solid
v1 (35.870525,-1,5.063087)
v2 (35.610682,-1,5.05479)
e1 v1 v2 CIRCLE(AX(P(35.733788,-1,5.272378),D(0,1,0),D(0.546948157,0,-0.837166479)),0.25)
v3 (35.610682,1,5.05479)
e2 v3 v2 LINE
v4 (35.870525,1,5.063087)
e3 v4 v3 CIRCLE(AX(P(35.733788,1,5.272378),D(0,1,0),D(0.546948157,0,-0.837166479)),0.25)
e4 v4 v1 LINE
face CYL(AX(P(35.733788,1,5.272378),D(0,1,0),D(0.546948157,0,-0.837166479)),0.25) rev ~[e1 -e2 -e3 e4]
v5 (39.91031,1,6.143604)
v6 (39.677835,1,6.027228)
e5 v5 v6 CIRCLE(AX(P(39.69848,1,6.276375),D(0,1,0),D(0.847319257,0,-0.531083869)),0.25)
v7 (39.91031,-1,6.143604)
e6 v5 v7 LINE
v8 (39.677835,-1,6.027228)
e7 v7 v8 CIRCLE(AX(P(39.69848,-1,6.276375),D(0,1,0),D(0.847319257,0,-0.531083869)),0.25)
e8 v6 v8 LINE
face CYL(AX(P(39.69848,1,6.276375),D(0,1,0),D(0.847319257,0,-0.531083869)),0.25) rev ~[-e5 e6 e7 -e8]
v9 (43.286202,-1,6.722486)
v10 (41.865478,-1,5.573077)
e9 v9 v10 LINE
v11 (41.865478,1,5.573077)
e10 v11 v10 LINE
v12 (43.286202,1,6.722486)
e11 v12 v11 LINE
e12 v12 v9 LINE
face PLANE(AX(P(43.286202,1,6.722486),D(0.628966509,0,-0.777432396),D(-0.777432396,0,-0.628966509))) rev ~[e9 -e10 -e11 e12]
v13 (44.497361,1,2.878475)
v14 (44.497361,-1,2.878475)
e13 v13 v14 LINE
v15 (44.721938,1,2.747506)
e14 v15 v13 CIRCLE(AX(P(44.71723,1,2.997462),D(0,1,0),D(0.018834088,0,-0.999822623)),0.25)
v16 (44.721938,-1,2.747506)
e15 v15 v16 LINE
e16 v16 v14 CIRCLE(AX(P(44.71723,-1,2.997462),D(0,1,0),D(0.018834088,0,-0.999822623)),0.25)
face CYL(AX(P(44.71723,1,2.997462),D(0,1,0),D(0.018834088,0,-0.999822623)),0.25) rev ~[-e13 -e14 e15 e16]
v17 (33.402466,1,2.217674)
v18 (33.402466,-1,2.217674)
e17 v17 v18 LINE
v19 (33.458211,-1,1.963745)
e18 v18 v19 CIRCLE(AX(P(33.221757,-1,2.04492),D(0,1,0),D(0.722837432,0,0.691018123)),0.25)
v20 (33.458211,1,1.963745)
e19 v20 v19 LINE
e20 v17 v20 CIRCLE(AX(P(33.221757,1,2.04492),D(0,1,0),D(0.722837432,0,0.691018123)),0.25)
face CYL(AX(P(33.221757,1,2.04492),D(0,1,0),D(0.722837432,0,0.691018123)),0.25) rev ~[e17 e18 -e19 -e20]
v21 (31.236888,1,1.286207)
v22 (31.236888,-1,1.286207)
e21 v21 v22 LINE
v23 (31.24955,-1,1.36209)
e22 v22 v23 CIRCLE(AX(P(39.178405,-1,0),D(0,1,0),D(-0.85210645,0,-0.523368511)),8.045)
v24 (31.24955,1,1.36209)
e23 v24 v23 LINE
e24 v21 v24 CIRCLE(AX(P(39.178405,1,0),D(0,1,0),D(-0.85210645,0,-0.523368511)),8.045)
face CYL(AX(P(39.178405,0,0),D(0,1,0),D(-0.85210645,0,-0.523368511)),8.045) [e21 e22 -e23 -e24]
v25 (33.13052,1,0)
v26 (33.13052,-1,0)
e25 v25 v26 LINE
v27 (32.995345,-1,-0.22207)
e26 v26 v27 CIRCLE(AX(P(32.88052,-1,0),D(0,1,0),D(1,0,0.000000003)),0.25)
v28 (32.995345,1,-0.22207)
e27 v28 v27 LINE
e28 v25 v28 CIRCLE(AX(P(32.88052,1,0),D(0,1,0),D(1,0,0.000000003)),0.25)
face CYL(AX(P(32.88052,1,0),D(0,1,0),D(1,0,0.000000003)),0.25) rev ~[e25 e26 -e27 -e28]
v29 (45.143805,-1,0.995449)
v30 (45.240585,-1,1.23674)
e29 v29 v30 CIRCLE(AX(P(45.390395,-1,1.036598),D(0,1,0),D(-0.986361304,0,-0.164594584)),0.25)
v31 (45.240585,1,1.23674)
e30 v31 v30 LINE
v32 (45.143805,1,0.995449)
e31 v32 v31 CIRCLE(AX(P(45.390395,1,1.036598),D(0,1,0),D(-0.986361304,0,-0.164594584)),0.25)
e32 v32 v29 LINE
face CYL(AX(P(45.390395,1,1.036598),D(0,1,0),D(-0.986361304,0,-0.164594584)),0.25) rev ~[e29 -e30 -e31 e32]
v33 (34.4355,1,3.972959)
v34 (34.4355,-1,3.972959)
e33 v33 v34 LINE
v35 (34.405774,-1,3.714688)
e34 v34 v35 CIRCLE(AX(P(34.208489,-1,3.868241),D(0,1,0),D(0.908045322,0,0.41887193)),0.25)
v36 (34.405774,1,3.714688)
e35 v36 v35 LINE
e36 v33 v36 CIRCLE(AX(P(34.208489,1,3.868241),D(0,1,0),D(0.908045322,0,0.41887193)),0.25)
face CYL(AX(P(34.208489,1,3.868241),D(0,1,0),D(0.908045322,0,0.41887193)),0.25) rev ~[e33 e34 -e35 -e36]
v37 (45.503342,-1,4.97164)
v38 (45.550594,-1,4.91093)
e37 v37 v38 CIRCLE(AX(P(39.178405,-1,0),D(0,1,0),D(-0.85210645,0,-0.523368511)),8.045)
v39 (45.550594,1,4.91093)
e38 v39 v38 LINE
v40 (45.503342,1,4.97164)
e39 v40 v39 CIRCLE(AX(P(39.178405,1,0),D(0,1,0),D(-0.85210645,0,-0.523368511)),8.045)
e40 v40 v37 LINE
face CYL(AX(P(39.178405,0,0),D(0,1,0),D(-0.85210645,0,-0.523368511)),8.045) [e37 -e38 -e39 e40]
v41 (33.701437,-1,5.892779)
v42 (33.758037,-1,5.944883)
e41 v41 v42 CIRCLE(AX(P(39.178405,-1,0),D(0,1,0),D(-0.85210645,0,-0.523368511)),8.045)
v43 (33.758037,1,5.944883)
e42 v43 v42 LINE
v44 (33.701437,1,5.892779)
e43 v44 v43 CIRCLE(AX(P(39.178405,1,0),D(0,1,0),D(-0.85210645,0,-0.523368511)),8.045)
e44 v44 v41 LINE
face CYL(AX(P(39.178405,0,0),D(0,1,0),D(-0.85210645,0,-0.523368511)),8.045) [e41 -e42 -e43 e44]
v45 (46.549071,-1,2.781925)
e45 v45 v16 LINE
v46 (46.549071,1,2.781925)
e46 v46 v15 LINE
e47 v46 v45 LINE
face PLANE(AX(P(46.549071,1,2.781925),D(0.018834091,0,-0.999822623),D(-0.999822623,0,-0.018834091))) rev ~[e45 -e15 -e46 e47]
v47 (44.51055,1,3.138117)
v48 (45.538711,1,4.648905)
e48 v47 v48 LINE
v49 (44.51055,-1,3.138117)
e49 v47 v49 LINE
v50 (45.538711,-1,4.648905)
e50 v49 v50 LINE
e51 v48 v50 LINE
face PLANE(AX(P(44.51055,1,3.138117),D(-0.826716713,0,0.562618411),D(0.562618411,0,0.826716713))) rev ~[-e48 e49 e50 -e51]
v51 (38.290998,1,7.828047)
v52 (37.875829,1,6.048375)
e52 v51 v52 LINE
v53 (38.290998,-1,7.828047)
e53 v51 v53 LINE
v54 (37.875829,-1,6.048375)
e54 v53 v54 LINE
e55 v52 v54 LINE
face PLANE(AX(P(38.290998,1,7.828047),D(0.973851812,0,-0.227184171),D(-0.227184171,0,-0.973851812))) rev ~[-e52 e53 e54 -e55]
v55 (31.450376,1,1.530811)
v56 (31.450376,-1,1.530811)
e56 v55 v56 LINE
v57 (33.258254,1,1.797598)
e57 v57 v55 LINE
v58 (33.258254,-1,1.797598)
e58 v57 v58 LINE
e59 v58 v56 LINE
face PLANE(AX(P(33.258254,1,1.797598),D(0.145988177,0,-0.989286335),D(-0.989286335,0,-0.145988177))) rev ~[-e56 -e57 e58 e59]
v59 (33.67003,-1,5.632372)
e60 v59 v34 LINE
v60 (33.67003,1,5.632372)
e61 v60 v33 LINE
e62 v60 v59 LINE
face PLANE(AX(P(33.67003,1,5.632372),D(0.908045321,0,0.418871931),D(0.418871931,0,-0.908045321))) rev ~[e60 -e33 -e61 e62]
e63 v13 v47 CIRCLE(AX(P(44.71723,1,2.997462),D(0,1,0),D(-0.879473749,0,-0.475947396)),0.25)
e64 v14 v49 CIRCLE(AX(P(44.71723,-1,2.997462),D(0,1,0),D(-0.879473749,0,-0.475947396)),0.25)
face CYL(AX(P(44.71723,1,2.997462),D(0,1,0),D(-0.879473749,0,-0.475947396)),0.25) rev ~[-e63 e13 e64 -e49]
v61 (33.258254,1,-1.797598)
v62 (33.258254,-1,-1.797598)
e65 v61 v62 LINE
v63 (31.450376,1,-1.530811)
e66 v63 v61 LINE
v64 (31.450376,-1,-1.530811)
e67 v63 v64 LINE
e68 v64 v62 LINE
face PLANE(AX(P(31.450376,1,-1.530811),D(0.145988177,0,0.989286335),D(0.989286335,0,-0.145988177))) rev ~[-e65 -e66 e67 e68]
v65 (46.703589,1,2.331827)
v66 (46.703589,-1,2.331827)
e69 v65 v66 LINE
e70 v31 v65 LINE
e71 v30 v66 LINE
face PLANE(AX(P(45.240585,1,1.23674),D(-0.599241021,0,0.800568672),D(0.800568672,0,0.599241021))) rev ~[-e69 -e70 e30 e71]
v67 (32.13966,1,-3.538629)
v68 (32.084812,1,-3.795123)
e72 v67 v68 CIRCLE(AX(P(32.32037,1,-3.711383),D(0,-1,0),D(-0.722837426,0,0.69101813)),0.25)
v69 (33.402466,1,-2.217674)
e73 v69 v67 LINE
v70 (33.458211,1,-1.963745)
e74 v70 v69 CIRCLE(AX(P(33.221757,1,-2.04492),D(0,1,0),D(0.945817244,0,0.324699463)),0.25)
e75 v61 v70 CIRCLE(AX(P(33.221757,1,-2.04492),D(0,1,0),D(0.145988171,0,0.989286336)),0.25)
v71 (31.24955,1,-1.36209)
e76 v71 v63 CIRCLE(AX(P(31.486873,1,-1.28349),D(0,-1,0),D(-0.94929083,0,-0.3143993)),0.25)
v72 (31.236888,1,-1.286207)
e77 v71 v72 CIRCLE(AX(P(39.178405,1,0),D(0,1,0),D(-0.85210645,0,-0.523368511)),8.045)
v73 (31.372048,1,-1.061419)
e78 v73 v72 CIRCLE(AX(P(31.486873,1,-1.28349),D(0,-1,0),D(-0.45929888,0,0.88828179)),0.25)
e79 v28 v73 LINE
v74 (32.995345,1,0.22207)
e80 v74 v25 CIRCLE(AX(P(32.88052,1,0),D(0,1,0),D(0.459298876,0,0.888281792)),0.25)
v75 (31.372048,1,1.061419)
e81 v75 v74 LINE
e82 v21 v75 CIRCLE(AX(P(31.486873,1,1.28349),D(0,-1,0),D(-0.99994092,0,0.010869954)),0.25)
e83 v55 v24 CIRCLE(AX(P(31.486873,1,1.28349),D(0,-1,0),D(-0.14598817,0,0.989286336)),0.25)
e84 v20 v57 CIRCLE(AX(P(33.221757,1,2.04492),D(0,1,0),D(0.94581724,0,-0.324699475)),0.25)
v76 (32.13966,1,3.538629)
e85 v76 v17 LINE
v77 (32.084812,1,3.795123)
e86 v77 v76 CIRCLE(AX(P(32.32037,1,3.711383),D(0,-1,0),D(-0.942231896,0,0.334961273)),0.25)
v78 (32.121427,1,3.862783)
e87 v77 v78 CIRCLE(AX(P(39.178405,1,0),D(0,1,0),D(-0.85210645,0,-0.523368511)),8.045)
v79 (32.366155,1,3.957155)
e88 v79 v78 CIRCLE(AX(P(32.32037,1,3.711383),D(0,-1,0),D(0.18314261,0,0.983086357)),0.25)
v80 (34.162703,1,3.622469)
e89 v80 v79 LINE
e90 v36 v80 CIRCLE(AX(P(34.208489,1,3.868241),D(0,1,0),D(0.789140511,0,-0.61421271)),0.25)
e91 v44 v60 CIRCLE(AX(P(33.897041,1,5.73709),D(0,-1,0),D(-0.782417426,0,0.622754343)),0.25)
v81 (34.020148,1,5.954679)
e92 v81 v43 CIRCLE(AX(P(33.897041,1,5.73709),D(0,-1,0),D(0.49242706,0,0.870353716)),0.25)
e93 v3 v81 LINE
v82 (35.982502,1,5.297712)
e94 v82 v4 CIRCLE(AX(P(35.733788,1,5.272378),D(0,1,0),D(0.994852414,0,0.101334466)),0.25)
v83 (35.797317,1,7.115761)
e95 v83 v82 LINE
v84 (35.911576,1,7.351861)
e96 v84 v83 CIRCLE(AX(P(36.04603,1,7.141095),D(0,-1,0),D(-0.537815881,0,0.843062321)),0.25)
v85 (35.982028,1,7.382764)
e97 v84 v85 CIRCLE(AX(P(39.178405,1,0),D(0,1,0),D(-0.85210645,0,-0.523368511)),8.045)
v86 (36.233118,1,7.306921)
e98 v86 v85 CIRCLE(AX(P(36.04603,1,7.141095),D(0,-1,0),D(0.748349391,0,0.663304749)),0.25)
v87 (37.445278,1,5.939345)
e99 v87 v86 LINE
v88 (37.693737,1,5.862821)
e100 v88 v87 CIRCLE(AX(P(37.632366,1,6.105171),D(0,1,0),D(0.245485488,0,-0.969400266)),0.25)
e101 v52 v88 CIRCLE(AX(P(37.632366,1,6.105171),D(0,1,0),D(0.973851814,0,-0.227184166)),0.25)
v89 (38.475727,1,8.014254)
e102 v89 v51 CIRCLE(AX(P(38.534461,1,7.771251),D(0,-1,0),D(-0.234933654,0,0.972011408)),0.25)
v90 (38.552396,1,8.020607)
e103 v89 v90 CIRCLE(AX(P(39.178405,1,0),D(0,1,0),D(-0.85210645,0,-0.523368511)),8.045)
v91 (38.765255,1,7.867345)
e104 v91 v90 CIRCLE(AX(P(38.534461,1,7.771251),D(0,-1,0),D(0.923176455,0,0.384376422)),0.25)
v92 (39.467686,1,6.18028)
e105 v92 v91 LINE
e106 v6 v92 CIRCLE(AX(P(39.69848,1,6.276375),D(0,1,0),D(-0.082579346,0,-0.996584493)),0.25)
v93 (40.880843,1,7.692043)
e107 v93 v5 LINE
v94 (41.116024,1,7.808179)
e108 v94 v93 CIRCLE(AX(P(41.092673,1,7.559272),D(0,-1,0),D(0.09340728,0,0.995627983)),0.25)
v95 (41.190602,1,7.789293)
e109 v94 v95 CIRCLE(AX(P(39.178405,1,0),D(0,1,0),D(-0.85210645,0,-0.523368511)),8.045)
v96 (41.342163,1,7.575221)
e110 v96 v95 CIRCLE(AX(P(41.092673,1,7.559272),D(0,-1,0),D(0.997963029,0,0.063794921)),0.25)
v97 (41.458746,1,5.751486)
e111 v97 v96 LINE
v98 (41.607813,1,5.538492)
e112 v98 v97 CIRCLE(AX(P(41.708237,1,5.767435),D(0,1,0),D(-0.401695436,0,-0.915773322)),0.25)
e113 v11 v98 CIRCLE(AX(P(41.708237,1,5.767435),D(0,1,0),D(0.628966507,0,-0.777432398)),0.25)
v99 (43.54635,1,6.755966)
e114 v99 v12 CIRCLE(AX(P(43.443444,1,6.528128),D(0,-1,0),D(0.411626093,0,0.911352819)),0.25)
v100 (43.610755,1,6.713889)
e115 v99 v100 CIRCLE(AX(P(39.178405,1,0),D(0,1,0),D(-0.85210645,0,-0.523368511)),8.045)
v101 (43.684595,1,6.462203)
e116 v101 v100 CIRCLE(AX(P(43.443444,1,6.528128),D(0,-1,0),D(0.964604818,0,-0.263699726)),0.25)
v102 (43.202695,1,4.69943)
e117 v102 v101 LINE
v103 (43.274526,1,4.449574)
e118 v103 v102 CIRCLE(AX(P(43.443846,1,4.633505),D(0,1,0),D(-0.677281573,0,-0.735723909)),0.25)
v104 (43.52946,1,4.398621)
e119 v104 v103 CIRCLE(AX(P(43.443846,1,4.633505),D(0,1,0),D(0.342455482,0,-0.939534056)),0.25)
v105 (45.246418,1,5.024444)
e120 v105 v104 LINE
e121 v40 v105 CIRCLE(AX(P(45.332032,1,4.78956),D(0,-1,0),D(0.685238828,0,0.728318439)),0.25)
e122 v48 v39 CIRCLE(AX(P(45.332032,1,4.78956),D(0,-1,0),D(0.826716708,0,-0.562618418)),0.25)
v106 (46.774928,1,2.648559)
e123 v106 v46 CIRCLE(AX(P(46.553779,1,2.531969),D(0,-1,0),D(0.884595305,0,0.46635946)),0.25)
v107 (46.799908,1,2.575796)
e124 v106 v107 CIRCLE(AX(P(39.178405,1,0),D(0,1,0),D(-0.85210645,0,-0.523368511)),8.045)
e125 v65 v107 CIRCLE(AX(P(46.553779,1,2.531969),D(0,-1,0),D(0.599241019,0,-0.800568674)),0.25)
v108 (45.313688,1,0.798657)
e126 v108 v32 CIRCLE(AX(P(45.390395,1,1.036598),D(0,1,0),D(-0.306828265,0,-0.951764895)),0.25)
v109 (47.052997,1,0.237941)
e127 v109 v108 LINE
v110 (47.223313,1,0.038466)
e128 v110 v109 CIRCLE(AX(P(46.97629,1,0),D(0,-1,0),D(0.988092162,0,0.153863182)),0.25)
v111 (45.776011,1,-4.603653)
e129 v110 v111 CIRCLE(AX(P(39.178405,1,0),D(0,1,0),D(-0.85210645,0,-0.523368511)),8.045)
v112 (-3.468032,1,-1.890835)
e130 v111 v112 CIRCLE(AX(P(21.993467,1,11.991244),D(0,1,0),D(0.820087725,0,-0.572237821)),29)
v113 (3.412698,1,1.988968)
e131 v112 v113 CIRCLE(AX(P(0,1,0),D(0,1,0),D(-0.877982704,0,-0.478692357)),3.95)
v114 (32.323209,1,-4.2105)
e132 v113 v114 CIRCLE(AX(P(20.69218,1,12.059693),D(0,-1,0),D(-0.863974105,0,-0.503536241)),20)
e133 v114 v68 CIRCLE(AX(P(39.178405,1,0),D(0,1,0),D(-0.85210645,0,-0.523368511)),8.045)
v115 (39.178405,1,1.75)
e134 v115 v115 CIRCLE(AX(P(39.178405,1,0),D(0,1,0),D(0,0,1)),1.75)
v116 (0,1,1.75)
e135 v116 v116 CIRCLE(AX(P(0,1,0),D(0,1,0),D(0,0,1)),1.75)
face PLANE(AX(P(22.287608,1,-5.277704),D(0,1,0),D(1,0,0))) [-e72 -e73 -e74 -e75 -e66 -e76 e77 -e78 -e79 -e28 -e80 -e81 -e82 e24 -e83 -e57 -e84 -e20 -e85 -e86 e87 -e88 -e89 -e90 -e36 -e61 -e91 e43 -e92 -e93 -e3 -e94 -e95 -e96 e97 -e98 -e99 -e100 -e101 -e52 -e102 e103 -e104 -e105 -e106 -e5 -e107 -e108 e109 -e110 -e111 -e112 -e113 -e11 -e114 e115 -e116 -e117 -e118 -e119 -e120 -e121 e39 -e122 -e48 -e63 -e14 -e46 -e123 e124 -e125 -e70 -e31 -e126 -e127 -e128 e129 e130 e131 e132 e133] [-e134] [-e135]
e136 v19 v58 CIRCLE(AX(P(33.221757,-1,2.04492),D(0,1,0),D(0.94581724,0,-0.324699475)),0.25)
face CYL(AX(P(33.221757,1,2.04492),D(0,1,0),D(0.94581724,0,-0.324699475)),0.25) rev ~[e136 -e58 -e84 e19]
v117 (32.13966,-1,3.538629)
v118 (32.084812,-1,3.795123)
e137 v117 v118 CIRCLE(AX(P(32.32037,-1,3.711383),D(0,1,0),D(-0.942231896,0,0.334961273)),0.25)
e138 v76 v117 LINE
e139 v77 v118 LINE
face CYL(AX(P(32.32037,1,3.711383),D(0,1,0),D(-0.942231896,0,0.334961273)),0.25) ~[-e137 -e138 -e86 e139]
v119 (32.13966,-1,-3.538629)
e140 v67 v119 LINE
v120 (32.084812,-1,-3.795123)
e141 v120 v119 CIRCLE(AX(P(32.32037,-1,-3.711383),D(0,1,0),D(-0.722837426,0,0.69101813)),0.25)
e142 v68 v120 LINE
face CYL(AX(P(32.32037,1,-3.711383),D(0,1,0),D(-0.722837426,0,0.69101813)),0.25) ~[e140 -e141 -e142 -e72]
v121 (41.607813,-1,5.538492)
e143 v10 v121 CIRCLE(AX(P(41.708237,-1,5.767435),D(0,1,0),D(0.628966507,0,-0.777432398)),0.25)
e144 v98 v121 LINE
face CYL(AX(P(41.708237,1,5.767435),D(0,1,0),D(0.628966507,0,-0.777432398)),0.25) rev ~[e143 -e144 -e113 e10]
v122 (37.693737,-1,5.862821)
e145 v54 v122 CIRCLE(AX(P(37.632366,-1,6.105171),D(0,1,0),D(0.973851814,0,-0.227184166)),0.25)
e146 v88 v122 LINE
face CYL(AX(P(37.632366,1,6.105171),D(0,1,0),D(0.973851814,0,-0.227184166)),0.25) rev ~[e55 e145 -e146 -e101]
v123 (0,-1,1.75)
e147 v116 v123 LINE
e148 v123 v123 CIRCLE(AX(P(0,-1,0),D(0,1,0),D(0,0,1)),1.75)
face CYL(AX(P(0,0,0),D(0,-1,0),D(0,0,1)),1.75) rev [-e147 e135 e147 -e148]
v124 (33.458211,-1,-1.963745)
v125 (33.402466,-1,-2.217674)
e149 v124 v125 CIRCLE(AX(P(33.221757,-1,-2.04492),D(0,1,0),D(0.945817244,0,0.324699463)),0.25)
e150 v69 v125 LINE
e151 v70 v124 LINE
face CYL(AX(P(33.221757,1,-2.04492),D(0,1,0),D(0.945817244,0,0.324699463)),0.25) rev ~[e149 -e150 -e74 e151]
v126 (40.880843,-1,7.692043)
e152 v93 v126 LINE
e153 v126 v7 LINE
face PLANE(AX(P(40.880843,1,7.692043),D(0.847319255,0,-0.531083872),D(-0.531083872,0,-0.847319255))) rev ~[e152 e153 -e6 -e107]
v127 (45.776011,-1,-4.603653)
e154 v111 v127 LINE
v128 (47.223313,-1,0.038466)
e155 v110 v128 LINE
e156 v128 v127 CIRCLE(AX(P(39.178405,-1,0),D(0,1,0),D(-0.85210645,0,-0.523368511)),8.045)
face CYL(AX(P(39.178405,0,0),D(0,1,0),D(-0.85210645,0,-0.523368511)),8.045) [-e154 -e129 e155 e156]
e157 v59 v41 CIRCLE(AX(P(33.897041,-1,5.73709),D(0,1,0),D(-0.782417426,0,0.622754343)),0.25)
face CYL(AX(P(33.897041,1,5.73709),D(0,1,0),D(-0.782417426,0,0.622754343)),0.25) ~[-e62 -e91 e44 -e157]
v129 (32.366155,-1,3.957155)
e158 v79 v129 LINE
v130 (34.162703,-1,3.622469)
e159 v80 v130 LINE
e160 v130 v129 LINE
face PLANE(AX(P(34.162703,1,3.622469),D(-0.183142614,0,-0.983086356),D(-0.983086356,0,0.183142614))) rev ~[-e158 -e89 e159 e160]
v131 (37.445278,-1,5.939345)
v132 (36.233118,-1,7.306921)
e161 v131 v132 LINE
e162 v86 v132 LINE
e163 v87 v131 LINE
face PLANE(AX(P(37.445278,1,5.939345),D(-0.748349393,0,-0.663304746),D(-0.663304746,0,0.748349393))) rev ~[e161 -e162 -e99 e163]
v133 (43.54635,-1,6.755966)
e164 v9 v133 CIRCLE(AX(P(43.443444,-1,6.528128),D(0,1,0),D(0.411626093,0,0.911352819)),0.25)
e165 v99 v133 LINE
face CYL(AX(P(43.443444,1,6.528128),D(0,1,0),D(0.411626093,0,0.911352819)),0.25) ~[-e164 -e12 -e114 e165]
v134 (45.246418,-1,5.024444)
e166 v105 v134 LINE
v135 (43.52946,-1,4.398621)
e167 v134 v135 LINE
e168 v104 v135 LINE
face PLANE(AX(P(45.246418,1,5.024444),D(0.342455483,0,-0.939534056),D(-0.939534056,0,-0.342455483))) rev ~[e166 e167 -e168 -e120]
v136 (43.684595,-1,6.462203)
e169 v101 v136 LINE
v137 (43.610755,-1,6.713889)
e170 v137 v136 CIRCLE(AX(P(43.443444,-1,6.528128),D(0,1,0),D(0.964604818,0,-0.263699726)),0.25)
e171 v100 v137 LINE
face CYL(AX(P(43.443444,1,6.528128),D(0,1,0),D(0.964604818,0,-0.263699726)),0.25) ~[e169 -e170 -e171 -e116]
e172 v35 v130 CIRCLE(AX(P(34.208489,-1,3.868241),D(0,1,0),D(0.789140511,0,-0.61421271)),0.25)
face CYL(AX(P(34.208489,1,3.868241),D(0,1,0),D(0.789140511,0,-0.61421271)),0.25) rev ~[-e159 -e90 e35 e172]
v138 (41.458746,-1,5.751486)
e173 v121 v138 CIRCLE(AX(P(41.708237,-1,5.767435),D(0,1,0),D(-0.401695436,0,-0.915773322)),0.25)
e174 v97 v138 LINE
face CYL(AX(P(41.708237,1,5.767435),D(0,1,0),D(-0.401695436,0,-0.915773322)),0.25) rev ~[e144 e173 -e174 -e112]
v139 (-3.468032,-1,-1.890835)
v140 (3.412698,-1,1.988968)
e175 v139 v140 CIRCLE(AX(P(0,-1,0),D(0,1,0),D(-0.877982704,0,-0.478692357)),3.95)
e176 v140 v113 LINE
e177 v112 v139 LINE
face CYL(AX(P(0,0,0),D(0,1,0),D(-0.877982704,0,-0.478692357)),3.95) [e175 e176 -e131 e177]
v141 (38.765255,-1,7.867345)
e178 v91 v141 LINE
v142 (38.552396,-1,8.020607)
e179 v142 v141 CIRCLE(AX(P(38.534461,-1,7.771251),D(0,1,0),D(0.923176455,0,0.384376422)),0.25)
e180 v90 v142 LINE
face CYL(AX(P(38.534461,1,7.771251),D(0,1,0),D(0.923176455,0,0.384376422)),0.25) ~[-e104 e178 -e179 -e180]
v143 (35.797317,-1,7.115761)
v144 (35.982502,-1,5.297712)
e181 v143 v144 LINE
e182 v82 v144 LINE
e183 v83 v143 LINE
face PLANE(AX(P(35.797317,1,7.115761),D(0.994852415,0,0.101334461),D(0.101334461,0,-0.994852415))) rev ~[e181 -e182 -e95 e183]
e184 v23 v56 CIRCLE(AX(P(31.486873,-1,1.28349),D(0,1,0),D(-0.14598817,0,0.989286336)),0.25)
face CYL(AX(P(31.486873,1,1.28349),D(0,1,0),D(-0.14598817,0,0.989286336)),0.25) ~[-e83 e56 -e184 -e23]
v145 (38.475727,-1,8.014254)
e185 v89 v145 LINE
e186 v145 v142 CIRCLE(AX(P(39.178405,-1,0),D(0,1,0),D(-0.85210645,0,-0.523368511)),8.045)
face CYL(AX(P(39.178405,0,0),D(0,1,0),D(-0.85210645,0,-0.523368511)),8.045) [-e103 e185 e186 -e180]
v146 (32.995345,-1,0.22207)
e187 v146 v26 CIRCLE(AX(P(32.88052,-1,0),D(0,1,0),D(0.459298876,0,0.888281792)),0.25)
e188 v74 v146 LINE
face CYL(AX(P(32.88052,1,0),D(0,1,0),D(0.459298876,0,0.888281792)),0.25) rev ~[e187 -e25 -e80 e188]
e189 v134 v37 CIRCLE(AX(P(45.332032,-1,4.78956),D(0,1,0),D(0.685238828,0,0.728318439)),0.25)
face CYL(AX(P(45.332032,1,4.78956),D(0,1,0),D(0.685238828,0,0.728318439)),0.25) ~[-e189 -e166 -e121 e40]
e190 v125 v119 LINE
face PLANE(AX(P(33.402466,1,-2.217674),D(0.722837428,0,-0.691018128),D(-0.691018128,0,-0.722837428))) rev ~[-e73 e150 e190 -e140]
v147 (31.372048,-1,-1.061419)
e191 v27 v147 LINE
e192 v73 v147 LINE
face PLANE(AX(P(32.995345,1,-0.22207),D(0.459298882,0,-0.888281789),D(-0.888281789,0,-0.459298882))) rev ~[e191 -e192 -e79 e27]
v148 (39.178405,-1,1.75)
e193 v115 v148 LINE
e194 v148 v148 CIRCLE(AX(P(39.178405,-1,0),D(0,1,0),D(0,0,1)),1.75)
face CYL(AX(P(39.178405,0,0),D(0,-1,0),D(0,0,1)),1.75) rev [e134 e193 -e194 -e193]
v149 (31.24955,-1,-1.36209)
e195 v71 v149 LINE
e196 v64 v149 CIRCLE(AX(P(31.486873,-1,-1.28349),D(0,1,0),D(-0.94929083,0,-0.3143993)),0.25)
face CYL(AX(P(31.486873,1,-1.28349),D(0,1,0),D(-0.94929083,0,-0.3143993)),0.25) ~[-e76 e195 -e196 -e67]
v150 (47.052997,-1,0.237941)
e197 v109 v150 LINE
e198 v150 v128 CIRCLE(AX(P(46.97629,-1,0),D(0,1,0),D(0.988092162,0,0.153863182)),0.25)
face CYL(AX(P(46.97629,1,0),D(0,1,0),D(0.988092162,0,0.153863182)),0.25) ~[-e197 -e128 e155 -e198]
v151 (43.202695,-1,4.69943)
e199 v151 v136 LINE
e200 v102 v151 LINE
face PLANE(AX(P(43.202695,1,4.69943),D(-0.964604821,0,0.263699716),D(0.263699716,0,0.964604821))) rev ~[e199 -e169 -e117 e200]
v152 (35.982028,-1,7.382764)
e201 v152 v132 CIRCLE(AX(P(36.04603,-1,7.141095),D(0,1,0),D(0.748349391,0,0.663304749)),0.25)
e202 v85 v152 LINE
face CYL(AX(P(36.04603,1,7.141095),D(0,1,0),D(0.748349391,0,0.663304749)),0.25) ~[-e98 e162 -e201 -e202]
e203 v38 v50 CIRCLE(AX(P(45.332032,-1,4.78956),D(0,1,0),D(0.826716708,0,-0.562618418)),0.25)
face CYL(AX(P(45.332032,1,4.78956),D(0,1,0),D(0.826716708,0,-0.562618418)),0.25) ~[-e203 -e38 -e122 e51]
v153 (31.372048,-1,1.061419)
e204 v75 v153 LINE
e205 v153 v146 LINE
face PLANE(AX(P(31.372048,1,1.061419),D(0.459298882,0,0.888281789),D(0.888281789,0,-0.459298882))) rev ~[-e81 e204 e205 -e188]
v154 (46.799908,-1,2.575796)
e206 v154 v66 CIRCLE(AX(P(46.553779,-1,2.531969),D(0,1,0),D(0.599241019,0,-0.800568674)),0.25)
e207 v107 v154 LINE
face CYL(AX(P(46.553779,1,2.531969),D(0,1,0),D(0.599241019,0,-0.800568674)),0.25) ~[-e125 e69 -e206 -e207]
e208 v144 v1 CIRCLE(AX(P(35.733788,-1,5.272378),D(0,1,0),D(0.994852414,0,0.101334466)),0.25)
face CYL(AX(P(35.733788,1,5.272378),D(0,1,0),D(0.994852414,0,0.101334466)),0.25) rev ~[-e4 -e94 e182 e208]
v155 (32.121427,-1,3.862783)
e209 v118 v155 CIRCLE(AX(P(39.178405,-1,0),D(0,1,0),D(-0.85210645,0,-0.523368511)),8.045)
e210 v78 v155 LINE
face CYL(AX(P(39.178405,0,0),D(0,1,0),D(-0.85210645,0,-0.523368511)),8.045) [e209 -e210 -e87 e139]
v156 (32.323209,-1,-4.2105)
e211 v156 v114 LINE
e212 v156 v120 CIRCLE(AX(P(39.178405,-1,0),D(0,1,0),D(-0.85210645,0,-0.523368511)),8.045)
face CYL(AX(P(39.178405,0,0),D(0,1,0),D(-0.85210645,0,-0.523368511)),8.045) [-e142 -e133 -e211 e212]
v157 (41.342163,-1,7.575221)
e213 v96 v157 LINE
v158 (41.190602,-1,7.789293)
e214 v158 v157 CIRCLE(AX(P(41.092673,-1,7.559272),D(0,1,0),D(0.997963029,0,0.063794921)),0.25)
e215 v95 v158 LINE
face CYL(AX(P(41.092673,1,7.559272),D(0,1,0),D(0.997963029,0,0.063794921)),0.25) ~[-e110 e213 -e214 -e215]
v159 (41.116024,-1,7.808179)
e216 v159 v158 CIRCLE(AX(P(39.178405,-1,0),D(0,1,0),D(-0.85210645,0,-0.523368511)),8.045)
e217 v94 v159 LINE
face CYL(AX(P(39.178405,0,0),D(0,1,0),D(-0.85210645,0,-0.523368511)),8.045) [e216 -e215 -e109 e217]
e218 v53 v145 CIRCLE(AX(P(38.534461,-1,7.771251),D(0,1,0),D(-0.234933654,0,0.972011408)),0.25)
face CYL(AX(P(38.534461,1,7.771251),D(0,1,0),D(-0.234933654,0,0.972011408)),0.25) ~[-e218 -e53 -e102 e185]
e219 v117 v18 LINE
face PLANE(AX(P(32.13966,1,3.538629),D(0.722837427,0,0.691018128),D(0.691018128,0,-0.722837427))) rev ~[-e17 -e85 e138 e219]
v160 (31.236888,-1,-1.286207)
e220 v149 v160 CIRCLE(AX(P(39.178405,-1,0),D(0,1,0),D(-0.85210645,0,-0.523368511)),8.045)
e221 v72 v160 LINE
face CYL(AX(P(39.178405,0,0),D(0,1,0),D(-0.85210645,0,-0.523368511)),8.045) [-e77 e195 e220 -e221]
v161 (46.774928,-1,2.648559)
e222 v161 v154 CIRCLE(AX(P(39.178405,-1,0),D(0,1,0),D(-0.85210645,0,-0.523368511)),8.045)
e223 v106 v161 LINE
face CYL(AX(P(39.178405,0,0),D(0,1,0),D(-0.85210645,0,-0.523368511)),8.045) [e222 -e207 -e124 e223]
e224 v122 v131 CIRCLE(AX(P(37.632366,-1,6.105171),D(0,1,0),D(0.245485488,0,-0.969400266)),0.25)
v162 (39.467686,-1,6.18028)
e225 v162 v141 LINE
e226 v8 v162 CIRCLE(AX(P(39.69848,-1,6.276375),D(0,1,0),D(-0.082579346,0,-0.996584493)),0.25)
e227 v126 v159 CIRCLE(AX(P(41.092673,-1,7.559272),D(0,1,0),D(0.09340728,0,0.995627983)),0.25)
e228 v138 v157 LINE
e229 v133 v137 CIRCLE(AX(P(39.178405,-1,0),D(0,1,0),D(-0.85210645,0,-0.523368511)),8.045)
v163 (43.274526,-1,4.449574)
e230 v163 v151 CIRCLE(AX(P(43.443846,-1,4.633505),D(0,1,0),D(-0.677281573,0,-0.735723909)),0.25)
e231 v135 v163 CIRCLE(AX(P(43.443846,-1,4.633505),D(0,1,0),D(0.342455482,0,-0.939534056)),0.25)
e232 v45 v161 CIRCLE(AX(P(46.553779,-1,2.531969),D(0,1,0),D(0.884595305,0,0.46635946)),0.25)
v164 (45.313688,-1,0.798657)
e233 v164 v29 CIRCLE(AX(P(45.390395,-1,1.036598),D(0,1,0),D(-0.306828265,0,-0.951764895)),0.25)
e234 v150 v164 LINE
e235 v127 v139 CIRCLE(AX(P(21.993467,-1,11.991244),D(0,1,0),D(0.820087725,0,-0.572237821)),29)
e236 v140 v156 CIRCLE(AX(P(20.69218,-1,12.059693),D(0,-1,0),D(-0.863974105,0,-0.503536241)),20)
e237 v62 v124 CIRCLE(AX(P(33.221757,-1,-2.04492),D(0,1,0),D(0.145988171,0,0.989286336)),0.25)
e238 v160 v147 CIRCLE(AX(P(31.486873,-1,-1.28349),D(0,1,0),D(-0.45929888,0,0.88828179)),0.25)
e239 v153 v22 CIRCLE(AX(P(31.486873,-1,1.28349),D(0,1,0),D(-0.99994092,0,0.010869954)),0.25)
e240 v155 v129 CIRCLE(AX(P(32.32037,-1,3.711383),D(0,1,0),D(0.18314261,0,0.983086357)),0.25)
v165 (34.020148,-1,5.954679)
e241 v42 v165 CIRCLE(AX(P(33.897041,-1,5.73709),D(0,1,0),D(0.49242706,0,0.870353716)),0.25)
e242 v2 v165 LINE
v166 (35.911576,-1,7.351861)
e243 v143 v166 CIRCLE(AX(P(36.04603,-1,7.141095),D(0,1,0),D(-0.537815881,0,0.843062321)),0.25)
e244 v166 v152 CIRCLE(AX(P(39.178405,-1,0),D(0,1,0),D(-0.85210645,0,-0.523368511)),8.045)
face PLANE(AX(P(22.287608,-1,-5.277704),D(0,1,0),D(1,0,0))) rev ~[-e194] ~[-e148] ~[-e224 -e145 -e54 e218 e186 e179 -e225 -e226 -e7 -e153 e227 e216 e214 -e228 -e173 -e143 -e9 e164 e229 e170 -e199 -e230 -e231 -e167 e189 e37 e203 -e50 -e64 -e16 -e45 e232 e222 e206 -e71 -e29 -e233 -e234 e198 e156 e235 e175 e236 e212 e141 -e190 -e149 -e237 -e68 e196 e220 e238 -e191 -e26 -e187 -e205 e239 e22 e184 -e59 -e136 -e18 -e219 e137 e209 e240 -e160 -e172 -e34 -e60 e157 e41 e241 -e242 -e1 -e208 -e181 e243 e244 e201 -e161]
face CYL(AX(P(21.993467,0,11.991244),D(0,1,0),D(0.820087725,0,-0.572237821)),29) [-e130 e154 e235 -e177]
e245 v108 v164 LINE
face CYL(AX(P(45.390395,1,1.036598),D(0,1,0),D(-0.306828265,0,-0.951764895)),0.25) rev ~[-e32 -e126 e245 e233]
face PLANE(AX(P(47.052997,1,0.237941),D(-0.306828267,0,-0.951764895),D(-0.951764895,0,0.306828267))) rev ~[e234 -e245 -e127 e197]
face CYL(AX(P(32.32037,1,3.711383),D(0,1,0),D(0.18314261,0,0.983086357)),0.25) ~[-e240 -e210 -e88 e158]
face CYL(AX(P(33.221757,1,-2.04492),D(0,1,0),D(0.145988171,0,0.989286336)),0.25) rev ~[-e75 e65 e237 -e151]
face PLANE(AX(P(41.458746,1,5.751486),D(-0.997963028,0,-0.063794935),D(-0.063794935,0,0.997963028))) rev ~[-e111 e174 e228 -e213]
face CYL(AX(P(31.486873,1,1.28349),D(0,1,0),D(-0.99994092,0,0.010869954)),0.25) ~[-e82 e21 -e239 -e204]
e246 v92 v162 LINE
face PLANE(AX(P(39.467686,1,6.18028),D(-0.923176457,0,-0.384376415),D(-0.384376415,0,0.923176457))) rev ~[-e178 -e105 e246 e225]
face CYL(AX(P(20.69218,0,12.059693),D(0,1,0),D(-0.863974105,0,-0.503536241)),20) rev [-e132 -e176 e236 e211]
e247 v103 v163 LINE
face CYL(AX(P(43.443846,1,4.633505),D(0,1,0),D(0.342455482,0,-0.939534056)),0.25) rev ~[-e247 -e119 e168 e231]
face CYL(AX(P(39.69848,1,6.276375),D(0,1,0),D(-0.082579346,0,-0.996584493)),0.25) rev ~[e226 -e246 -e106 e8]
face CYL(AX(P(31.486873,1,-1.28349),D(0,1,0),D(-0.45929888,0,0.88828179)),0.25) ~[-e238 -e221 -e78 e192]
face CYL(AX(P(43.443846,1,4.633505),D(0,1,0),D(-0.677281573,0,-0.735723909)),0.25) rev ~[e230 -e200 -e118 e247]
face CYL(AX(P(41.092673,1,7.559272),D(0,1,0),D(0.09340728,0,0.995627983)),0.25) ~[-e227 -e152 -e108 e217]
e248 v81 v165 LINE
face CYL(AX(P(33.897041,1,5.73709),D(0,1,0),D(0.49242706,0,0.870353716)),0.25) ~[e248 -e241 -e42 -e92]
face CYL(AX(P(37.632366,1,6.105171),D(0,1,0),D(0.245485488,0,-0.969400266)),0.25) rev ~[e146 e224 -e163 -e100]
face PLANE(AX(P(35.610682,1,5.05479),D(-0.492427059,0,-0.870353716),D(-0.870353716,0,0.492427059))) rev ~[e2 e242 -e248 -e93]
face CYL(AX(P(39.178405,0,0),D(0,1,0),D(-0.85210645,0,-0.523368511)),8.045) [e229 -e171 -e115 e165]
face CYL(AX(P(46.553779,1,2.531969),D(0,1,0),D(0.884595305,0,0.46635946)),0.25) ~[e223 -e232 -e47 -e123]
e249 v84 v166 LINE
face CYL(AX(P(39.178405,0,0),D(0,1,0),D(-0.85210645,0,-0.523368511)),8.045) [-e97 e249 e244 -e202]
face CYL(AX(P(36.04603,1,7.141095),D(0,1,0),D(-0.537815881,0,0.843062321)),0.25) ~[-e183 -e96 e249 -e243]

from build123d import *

# Parameters (mm, degrees)
SKETCH1_R           = 1.75
BOSS_EXTRUDE1_DEPTH = 1
CUT_EXTRUDE1_DEPTH  = 10


with BuildPart() as part:
    # Sketch1 → Boss-Extrude1 (new, symmetric)
    with BuildSketch(Plane(origin=(0, 0, 0), x_dir=(1, 0, 0), z_dir=(0, 1, 0))):
        with BuildLine():
            ThreePointArc((-3.468031679, 1.890834809), (-1.940098765, -3.440714574), (3.412697713, -1.988968154))
            ThreePointArc((3.412697713, -1.988968154), (16.498779461, 7.495751106), (32.323208611, 4.210499669))
            ThreePointArc((32.323208611, 4.210499669), (39.413417069, -8.041566659), (45.776010747, 4.603653267))
            ThreePointArc((45.776010747, 4.603653267), (20.398296529, 16.964851371), (-3.468031679, 1.890834809))
        make_face()
        with Locations(Location((0, 0, 0), (0, 0, 270))):
            Circle(SKETCH1_R, mode=Mode.SUBTRACT)
        with Locations(Location((39.178405, 0, 0), (0, 0, 270))):
            Circle(SKETCH1_R, mode=Mode.SUBTRACT)
    extrude(amount=BOSS_EXTRUDE1_DEPTH, both=True)

    # Sketch3 → Cut-Extrude1 (cut)
    with BuildSketch(Plane(origin=(0, 1, 0), x_dir=(1, 0, 0), z_dir=(0, 1, 0))):
        with BuildLine():
            ThreePointArc((32.084811852, 3.795123352), (31.56930529, 2.612207227), (31.24955028, 1.36208951))
            ThreePointArc((31.24955028, 1.36208951), (31.326059207, 1.474902663), (31.450375944, 1.53081127))
            Line((31.450375944, 1.53081127), (33.258253826, 1.797598333))
            ThreePointArc((33.258253826, 1.797598333), (33.381527847, 1.852635734), (33.458211092, 1.963745049))
            ThreePointArc((33.458211092, 1.963745049), (33.46594199, 2.098525734), (33.402466138, 2.217674448))
            Line((33.402466138, 2.217674448), (32.139660471, 3.538628505))
            ThreePointArc((32.139660471, 3.538628505), (32.075896875, 3.659105169), (32.084811852, 3.795123352))
        make_face()
        with BuildLine():
            ThreePointArc((31.236887758, 1.286207175), (31.133405, 0), (31.236887758, -1.286207175))
            ThreePointArc((31.236887758, -1.286207175), (31.272620849, -1.154664142), (31.372048268, -1.061419239))
            Line((31.372048268, -1.061419239), (32.995344721, -0.222070447))
            ThreePointArc((32.995344721, -0.222070447), (33.094068801, -0.129988115), (33.130520001, 0))
            ThreePointArc((33.130520001, 0), (33.094068801, 0.129988115), (32.995344721, 0.222070447))
            Line((32.995344721, 0.222070447), (31.372048268, 1.061419239))
            ThreePointArc((31.372048268, 1.061419239), (31.272620849, 1.154664142), (31.236887758, 1.286207175))
        make_face()
        with BuildLine():
            ThreePointArc((31.24955028, -1.36208951), (31.569305291, -2.61220723), (32.084811854, -3.795123356))
            ThreePointArc((32.084811854, -3.795123356), (32.075896875, -3.659105171), (32.139660471, -3.538628505))
            Line((32.139660471, -3.538628505), (33.402466138, -2.217674449))
            ThreePointArc((33.402466138, -2.217674449), (33.46594199, -2.098525734), (33.458211092, -1.963745049))
            ThreePointArc((33.458211092, -1.963745049), (33.381527847, -1.852635735), (33.258253826, -1.797598333))
            Line((33.258253826, -1.797598333), (31.450375944, -1.53081127))
            ThreePointArc((31.450375944, -1.53081127), (31.326059207, -1.474902664), (31.24955028, -1.36208951))
        make_face()
        with BuildLine():
            ThreePointArc((32.12142724, -3.862782663), (32.829769602, -4.941341274), (33.701436836, -5.892779033))
            ThreePointArc((33.701436836, -5.892779033), (33.648839863, -5.767025378), (33.670029862, -5.632372464))
            Line((33.670029862, -5.632372464), (34.435500154, -3.972959013))
            ThreePointArc((34.435500154, -3.972959013), (34.456849185, -3.839655529), (34.405773951, -3.714687852))
            ThreePointArc((34.405773951, -3.714687852), (34.29716848, -3.634497755), (34.16270317, -3.622469441))
            Line((34.16270317, -3.622469441), (32.366155482, -3.957154626))
            ThreePointArc((32.366155482, -3.957154626), (32.230421073, -3.94464088), (32.12142724, -3.862782663))
        make_face()
        with BuildLine():
            ThreePointArc((33.758037242, -5.944883377), (34.778207068, -6.735004318), (35.911576302, -7.351860666))
            ThreePointArc((35.911576302, -7.351860666), (35.820997033, -7.249998901), (35.79731717, -7.115761472))
            Line((35.79731717, -7.115761472), (35.982501503, -5.297711821))
            ThreePointArc((35.982501503, -5.297711821), (35.959410215, -5.164699069), (35.870525439, -5.063086586))
            ThreePointArc((35.870525439, -5.063086586), (35.741766831, -5.022505549), (35.610681635, -5.054789777))
            Line((35.610681635, -5.054789777), (34.020147957, -5.954678876))
            ThreePointArc((34.020147957, -5.954678876), (33.887704808, -5.98691605), (33.758037242, -5.944883377))
        make_face()
        with BuildLine():
            ThreePointArc((35.982028195, -7.382763732), (37.203474256, -7.798825139), (38.475727347, -8.014254121))
            ThreePointArc((38.475727347, -8.014254121), (38.356981452, -7.947322547), (38.290997808, -7.828047312))
            Line((38.290997808, -7.828047312), (37.875828586, -6.048375351))
            ThreePointArc((37.875828586, -6.048375351), (37.810799277, -5.930067325), (37.693737005, -5.862821327))
            ThreePointArc((37.693737005, -5.862821327), (37.558778252, -5.866246934), (37.445278285, -5.939345207))
            Line((37.445278285, -5.939345207), (36.233117622, -7.306921274))
            ThreePointArc((36.233117622, -7.306921274), (36.118318001, -7.380415969), (35.982028195, -7.382763732))
        make_face()
        with BuildLine():
            ThreePointArc((38.552396173, -8.020607081), (39.842755834, -8.017522246), (41.116024419, -7.808178788))
            ThreePointArc((41.116024419, -7.808178788), (40.981979858, -7.78343048), (40.880842784, -7.692042761))
            Line((40.880842784, -7.692042761), (39.910310035, -6.143603561))
            ThreePointArc((39.910310035, -6.143603561), (39.810389641, -6.052820773), (39.677835385, -6.027228406))
            ThreePointArc((39.677835385, -6.027228406), (39.551301362, -6.07428944), (39.467686107, -6.180280426))
            Line((39.467686107, -6.180280426), (38.765254875, -7.867345373))
            ThreePointArc((38.765254875, -7.867345373), (38.680539103, -7.974133298), (38.552396173, -8.020607081))
        make_face()
        with BuildLine():
            ThreePointArc((41.19060192, -7.7892932), (42.410044691, -7.367396413), (43.546350362, -6.755966128))
            ThreePointArc((43.546350362, -6.755966128), (43.411532943, -6.776082949), (43.286202211, -6.722486022))
            Line((43.286202211, -6.722486022), (41.865478217, -5.573076998))
            ThreePointArc((41.865478217, -5.573076998), (41.741494662, -5.519657171), (41.607812733, -5.538491765))
            ThreePointArc((41.607812733, -5.538491765), (41.503415366, -5.624088433), (41.458745833, -5.751486363))
            Line((41.458745833, -5.751486363), (41.342163355, -7.575220526))
            ThreePointArc((41.342163355, -7.575220526), (41.296711701, -7.703729554), (41.19060192, -7.7892932))
        make_face()
        with BuildLine():
            ThreePointArc((43.610754909, -6.713888537), (44.627135244, -5.918898861), (45.503341649, -4.971639708))
            ThreePointArc((45.503341649, -4.971639708), (45.382360931, -5.034441688), (45.246418071, -5.024443613))
            Line((45.246418071, -5.024443613), (43.529460322, -4.398621067))
            ThreePointArc((43.529460322, -4.398621067), (43.394849148, -4.388353068), (43.274526058, -4.449573603))
            ThreePointArc((43.274526058, -4.449573603), (43.20357842, -4.564430177), (43.202695246, -4.69942951))
            Line((43.202695246, -4.69942951), (43.684595043, -6.462202994))
            ThreePointArc((43.684595043, -6.462202994), (43.683332898, -6.598507176), (43.610754909, -6.713888537))
        make_face()
        with BuildLine():
            ThreePointArc((45.55059401, -4.910929874), (46.253771328, -3.828996777), (46.77492791, -2.648558983))
            ThreePointArc((46.77492791, -2.648558983), (46.68089403, -2.747240553), (46.549070559, -2.781924776))
            Line((46.549070559, -2.781924776), (44.721938068, -2.747506292))
            ThreePointArc((44.721938068, -2.747506292), (44.591286486, -2.781502818), (44.497361108, -2.878475099))
            ThreePointArc((44.497361108, -2.878475099), (44.467551477, -3.010145087), (44.510550368, -3.13811655))
            Line((44.510550368, -3.13811655), (45.538711119, -4.648905496))
            ThreePointArc((45.538711119, -4.648905496), (45.581775256, -4.778234159), (45.55059401, -4.910929874))
        make_face()
        with BuildLine():
            Line((47.052997067, -0.237941224), (45.313687991, -0.798656578))
            ThreePointArc((45.313687991, -0.798656578), (45.201154125, -0.873233578), (45.143804731, -0.995449154))
            ThreePointArc((45.143804731, -0.995449154), (45.158363444, -1.12966407), (45.240584802, -1.236739969))
            Line((45.240584802, -1.236739969), (46.703589337, -2.331826952))
            ThreePointArc((46.703589337, -2.331826952), (46.786313088, -2.440165329), (46.799907556, -2.575795758))
            ThreePointArc((46.799907556, -2.575795758), (47.113681686, -1.324163479), (47.223313041, -0.038465795))
            ThreePointArc((47.223313041, -0.038465795), (47.16641603, -0.162333277), (47.052997067, -0.237941224))
        make_face()
    extrude(amount=-CUT_EXTRUDE1_DEPTH, mode=Mode.SUBTRACT)


solid = part.part
